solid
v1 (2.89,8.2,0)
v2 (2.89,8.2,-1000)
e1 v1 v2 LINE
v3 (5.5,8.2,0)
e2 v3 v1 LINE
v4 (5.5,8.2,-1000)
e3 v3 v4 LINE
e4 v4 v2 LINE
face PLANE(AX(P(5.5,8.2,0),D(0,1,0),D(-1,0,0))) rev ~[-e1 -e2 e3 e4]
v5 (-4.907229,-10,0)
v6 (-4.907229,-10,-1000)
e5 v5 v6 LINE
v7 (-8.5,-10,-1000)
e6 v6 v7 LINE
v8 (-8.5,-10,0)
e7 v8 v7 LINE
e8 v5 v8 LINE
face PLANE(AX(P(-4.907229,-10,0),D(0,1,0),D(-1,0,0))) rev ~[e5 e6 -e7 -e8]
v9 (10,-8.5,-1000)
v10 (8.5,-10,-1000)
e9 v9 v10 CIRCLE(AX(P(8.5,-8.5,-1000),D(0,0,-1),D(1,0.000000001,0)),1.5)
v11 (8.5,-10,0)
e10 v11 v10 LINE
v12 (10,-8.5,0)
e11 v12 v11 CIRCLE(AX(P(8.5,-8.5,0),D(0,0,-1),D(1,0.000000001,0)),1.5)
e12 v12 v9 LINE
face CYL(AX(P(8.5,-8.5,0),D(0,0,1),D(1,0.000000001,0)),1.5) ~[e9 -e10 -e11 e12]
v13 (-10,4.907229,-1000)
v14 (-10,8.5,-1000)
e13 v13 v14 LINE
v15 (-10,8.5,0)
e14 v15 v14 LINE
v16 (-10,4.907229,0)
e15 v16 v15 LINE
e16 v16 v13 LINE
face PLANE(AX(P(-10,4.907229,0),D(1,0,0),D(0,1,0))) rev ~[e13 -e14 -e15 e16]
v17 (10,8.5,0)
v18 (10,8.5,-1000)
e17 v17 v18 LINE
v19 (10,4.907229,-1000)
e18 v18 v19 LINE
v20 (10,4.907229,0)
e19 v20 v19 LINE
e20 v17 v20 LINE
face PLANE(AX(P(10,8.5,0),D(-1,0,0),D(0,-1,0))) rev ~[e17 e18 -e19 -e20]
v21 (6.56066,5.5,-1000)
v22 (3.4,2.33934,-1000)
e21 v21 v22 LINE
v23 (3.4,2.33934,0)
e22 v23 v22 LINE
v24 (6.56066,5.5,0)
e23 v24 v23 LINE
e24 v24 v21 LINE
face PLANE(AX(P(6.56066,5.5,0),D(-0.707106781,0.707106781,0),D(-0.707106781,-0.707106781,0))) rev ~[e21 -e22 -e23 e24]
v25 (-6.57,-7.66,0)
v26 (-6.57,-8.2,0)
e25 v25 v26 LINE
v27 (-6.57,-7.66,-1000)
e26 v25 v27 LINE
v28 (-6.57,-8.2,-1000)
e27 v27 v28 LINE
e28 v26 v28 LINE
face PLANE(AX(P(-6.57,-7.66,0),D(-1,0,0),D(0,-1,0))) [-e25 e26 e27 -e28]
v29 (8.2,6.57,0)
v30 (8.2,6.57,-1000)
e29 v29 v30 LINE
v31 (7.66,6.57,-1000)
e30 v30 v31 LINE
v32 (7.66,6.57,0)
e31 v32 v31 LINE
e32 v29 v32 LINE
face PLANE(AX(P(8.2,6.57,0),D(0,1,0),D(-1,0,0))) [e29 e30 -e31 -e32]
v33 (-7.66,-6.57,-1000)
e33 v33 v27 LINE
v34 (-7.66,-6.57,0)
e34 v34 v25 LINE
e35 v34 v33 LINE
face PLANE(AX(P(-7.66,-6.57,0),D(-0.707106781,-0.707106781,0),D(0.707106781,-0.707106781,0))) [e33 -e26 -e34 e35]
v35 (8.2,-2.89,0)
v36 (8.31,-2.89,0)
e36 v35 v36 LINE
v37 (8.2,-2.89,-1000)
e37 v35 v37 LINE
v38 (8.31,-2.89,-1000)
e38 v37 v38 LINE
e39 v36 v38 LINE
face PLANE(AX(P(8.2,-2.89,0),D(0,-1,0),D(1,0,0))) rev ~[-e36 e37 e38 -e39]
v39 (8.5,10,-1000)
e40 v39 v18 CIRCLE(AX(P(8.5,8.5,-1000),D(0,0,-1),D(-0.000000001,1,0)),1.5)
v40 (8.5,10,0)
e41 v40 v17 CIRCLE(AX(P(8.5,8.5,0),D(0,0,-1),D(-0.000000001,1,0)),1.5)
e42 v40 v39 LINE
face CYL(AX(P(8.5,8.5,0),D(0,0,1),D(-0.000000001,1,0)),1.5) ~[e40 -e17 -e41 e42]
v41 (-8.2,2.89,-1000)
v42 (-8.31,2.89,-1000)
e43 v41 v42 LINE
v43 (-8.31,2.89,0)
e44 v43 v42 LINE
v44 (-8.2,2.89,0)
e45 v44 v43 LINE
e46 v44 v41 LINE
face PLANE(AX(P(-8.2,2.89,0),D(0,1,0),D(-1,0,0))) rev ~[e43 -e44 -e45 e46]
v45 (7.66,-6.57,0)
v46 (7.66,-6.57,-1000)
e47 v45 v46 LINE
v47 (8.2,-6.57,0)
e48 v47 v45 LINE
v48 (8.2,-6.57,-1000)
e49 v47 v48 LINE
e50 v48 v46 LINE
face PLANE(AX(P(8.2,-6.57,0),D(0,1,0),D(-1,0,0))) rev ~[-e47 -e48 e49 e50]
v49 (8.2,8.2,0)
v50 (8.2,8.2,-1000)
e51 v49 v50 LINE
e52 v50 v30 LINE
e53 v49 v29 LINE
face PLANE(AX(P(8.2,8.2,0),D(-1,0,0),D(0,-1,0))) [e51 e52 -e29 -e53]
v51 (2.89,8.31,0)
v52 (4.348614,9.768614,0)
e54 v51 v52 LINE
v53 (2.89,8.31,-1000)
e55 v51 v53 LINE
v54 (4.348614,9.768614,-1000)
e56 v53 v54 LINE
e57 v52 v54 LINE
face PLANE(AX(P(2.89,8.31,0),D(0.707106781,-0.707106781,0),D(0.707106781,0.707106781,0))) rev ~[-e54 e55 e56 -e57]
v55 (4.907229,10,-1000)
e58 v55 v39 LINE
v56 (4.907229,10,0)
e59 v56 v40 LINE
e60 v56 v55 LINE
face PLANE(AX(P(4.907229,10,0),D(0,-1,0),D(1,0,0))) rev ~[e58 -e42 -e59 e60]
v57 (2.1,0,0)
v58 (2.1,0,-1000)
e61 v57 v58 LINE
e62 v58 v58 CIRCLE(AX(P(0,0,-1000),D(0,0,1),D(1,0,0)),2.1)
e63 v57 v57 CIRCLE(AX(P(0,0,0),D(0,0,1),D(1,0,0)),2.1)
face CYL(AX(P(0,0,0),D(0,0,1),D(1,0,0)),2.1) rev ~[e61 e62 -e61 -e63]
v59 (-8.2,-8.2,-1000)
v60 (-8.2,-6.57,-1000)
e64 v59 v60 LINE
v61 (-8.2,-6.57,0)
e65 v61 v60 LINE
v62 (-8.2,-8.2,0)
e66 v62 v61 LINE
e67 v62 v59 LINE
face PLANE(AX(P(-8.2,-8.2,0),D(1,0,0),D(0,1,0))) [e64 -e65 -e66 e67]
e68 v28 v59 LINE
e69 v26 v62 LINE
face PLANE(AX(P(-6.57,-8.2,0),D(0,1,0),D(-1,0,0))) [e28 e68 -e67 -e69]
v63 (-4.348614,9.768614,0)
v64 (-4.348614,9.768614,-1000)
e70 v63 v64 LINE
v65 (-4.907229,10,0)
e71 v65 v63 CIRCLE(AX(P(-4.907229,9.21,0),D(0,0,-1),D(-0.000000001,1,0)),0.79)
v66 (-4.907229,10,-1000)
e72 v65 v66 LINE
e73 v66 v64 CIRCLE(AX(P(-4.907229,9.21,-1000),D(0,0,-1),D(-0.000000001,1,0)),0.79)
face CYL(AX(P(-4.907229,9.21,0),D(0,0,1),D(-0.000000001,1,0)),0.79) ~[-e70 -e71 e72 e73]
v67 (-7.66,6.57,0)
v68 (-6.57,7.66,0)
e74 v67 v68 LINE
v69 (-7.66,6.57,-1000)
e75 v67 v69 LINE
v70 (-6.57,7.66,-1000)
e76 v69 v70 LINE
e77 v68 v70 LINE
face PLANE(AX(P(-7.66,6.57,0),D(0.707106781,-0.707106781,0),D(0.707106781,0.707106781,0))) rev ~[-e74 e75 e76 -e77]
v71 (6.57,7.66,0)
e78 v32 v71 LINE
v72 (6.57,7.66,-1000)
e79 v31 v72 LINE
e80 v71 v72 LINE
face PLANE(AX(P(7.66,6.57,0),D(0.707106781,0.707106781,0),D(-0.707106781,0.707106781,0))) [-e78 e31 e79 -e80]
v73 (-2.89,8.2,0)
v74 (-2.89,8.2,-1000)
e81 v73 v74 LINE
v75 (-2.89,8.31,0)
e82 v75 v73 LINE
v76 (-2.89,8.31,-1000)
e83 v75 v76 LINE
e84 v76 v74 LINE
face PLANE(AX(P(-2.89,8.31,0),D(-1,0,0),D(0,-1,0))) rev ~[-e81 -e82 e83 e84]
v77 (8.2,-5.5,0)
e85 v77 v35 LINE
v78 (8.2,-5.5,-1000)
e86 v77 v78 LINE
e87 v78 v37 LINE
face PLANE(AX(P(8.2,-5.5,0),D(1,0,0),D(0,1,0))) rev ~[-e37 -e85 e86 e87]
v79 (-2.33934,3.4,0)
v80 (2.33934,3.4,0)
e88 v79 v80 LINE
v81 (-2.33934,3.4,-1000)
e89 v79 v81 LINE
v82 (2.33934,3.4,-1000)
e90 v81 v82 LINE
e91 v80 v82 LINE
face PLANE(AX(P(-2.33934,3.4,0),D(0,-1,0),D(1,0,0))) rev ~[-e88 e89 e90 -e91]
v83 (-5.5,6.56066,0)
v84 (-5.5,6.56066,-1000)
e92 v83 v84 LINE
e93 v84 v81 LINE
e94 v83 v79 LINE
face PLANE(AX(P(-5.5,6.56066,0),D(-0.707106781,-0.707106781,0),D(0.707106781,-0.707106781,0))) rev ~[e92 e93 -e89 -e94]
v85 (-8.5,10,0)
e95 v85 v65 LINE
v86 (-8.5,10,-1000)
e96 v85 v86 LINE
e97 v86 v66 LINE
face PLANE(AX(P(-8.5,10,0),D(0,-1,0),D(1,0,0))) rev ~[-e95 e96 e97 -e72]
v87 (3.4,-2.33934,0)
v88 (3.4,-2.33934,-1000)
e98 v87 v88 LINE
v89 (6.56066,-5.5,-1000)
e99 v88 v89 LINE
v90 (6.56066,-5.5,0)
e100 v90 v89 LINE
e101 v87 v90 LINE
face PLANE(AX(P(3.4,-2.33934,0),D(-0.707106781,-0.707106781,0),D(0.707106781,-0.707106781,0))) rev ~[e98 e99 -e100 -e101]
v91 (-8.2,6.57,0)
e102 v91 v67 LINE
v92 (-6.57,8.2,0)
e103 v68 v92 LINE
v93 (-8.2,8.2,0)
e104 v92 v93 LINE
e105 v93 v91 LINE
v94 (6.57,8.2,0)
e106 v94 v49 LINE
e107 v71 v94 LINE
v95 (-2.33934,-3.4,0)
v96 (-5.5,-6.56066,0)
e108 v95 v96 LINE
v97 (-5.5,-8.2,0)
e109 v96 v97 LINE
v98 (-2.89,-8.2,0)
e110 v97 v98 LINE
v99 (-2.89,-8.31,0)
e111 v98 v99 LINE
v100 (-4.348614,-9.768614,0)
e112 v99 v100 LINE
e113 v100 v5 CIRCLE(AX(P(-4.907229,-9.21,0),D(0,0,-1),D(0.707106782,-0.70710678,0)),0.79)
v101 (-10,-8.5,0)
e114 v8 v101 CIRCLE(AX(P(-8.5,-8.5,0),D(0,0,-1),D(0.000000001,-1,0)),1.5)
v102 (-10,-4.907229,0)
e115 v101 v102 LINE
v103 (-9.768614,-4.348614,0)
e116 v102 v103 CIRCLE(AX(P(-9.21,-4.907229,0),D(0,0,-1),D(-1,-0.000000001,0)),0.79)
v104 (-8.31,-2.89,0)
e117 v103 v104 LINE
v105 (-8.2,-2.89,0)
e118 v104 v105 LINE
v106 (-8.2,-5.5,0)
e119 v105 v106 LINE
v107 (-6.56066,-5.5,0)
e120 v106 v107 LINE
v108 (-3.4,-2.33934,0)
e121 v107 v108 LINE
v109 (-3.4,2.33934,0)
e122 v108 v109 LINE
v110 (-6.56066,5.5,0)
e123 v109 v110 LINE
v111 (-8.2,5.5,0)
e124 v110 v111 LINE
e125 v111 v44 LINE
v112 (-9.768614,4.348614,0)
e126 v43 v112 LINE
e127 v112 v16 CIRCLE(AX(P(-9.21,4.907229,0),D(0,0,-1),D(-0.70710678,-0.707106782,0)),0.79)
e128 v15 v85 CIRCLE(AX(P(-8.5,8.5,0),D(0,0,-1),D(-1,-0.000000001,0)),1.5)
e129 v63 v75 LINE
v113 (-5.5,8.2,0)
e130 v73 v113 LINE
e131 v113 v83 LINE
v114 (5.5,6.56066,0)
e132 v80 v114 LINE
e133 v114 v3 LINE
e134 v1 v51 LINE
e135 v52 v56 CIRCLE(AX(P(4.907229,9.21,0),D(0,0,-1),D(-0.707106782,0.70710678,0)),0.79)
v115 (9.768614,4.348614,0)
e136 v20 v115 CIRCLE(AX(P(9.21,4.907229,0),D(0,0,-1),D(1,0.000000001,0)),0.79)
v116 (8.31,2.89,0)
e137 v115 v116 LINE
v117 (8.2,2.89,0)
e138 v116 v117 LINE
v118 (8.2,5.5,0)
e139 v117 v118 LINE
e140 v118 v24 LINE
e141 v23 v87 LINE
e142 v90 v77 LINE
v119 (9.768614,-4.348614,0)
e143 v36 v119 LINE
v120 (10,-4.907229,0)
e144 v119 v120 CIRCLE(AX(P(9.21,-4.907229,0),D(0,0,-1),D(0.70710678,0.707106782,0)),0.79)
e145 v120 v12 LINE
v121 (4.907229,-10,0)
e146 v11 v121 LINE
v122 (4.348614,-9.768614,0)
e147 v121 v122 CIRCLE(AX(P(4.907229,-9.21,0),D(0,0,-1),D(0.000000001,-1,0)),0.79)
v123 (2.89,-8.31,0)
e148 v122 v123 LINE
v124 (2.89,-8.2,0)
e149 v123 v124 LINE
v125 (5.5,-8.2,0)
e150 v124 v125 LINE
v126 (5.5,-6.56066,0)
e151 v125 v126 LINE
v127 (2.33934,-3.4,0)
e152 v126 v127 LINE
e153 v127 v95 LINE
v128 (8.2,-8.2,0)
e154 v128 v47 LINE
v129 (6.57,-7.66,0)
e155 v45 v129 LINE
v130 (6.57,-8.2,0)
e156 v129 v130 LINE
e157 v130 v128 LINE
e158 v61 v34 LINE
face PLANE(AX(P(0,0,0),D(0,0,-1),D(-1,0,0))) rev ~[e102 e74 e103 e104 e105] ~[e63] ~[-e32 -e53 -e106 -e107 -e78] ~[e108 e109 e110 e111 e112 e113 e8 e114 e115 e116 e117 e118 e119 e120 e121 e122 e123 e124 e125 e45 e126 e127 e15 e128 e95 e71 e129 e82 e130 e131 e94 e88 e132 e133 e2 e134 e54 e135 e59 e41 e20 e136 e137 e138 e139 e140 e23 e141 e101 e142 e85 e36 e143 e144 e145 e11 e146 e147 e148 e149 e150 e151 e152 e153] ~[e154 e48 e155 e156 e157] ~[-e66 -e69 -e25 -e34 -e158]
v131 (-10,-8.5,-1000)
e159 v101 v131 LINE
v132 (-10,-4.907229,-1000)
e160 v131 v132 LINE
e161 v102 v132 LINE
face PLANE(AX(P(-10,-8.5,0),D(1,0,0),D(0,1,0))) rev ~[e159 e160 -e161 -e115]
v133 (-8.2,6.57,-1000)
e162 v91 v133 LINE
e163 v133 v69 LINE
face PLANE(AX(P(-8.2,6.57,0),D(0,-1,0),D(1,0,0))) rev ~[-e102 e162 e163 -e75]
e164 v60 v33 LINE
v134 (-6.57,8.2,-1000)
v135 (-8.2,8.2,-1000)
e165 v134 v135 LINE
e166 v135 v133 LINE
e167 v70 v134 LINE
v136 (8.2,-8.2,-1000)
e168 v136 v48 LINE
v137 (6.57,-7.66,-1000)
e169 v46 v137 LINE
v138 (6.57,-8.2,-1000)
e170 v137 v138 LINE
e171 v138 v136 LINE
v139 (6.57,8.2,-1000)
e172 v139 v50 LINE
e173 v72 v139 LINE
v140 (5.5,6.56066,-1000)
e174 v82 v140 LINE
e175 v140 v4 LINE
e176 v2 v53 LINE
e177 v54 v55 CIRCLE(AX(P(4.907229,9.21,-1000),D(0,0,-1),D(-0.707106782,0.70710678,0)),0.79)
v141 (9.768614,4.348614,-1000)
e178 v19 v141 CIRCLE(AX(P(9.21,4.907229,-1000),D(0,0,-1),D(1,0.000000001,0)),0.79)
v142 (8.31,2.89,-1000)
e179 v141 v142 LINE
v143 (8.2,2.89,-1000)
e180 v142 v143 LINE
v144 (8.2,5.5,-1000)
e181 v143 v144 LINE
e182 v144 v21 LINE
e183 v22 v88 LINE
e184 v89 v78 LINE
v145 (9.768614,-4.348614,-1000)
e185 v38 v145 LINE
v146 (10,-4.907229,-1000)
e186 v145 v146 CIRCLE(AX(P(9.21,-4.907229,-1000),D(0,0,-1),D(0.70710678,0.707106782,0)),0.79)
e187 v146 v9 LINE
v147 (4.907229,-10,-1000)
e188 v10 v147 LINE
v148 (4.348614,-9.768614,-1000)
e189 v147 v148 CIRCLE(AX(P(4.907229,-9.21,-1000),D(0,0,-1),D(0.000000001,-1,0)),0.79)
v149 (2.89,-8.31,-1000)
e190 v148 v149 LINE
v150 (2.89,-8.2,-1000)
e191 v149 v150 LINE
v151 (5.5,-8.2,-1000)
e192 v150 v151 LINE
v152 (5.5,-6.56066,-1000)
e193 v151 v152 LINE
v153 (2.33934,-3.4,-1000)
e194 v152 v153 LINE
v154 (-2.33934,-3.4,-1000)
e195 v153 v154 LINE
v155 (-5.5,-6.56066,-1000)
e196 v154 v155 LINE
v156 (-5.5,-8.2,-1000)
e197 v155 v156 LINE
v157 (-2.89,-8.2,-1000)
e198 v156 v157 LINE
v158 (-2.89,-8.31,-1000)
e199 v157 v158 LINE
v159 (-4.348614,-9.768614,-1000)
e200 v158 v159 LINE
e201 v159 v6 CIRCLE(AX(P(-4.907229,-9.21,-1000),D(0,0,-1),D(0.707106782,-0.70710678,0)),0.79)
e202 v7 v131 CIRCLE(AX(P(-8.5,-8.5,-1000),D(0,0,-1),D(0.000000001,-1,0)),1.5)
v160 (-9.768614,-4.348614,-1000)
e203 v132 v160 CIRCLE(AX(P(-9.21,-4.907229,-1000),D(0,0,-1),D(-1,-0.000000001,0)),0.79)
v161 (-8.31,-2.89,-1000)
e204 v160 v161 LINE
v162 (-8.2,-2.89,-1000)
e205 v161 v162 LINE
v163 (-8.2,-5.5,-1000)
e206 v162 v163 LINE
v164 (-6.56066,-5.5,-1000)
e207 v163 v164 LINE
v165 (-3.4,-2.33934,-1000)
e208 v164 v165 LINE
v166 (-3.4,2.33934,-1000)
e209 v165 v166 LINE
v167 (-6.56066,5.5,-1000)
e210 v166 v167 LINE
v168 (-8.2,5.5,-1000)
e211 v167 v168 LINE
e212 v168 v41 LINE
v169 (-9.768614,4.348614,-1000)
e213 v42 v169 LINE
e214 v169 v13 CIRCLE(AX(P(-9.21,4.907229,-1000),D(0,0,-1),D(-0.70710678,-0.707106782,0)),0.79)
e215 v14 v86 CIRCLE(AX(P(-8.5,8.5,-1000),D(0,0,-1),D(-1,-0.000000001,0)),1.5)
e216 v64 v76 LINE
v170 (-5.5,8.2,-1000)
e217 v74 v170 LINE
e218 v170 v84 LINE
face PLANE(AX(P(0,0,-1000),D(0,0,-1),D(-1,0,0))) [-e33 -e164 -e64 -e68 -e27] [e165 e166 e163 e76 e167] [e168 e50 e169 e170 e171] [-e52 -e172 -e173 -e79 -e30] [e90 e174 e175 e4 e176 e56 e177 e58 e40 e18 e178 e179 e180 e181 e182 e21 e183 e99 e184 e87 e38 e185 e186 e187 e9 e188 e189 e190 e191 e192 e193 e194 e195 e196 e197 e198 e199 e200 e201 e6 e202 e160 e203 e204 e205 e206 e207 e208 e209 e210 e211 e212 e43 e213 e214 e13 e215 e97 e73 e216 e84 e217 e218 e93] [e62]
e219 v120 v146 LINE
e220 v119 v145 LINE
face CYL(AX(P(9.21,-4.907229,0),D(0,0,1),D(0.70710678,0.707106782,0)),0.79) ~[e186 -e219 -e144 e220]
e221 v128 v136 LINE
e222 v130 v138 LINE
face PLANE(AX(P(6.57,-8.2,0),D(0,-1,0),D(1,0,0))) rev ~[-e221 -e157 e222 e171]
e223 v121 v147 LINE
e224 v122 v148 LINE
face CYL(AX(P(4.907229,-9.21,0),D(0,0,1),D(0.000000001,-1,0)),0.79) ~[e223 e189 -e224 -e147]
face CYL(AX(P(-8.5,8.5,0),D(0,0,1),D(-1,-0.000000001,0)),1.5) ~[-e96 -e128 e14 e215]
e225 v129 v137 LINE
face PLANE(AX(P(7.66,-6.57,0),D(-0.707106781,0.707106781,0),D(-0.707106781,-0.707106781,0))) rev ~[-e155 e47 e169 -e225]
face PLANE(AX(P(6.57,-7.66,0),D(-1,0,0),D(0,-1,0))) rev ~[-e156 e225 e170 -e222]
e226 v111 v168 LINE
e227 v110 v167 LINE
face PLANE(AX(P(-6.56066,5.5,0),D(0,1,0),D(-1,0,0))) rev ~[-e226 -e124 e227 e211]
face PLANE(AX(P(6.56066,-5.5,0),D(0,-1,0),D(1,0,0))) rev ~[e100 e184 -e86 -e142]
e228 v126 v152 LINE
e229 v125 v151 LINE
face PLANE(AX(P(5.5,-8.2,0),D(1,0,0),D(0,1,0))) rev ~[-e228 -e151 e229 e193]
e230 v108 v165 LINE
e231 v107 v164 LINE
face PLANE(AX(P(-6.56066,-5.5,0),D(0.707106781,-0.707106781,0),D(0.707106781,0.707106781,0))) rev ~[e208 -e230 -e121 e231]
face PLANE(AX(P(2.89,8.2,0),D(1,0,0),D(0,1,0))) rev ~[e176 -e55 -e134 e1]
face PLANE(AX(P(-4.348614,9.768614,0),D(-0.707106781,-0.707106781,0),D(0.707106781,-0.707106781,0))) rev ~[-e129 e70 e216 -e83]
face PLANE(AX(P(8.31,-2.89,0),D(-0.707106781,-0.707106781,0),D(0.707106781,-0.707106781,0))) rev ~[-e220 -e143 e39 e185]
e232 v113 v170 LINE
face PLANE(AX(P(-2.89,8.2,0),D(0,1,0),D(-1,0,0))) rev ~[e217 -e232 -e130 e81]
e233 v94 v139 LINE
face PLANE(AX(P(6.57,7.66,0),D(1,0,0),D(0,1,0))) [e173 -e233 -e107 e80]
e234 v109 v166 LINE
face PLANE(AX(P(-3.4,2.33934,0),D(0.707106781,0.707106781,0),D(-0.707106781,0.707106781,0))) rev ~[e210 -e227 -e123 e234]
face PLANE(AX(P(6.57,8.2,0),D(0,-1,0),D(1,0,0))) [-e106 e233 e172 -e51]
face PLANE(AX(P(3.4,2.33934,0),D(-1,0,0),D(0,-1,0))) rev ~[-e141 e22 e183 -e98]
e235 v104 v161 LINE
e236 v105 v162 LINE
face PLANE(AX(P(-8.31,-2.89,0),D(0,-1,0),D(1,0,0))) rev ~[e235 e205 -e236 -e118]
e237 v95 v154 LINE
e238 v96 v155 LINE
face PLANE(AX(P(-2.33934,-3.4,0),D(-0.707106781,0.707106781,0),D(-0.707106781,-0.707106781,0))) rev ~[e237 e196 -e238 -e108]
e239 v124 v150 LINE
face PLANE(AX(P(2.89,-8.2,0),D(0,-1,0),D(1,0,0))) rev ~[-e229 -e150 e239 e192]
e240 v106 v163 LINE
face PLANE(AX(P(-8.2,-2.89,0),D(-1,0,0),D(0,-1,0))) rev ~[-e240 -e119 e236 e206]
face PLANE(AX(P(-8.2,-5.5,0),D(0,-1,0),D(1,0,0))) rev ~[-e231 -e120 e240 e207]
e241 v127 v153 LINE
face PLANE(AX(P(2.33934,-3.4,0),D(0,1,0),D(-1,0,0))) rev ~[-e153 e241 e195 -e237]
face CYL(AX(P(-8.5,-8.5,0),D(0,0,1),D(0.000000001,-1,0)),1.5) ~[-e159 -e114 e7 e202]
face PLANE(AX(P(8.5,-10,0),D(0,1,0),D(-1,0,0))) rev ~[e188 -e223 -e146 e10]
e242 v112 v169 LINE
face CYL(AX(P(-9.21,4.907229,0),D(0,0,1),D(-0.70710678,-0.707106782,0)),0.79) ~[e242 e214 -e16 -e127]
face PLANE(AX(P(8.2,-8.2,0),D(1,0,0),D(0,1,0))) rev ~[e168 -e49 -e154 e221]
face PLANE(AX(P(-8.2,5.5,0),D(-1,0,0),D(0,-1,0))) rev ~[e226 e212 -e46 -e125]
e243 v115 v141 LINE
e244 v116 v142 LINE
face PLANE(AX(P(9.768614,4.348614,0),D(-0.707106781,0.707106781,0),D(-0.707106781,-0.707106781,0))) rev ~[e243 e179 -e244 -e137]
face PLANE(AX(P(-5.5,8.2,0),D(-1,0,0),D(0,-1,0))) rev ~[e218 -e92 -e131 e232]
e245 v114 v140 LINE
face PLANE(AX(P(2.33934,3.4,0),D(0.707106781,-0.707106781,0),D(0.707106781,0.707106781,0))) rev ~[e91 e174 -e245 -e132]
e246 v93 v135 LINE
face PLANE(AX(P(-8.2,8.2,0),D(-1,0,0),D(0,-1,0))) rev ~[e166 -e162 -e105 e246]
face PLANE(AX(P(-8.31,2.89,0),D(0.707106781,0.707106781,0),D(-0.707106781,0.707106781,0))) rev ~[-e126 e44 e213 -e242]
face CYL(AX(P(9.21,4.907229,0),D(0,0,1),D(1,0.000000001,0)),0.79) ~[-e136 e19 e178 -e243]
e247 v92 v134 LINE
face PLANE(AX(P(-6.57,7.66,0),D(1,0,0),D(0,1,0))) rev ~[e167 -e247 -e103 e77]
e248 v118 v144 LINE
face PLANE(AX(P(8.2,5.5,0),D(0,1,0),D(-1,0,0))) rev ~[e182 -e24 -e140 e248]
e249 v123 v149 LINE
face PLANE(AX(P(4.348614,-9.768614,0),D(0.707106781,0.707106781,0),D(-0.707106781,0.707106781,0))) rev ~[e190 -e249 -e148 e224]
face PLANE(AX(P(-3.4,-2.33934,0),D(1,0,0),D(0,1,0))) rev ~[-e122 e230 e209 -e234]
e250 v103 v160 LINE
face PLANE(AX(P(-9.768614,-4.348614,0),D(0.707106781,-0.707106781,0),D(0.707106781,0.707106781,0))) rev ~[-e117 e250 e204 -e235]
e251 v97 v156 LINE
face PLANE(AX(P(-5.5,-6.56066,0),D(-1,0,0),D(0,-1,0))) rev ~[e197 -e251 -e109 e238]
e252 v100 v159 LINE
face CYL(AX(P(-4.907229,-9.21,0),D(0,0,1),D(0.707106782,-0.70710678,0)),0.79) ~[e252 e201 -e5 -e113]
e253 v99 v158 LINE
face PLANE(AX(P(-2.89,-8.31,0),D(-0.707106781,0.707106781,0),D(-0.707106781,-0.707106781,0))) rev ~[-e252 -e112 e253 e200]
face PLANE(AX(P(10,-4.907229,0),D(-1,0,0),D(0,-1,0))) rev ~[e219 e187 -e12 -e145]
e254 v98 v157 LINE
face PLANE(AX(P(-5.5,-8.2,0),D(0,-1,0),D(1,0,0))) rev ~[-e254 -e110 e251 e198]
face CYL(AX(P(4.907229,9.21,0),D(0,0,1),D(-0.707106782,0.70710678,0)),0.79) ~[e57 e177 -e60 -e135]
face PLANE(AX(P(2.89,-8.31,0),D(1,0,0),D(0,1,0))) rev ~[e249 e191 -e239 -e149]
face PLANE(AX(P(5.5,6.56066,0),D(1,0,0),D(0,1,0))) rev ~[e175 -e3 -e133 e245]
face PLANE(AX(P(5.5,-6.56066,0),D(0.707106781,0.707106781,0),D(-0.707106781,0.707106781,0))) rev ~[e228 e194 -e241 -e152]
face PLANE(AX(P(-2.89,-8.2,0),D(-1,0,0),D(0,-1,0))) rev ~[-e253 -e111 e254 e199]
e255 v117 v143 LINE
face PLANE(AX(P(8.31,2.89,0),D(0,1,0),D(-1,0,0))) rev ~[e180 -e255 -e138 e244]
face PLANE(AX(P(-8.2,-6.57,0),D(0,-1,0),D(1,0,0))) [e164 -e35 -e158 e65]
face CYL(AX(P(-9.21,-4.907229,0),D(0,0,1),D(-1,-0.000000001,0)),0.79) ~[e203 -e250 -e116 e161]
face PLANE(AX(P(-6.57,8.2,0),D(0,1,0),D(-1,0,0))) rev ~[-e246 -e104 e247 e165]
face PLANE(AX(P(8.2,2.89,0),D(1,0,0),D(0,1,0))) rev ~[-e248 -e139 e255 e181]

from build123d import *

# Parameters (mm, degrees)
SKETCH6_R           = 2.1
BOSS_EXTRUDE1_DEPTH = 1000


with BuildPart() as part:
    # Sketch6 → Boss-Extrude1 (new body)
    with BuildSketch(Plane.XY):
        with BuildLine():
            Line((-3.4, -2.339339828), (-3.4, 2.339339828))
            Line((-3.4, 2.339339828), (-6.560660172, 5.5))
            Line((-6.560660172, 5.5), (-8.2, 5.5))
            Line((-8.2, 5.5), (-8.2, 2.89))
            Line((-8.2, 2.89), (-8.31, 2.89))
            Line((-8.31, 2.89), (-9.768614357, 4.348614357))
            ThreePointArc((-9.768614357, 4.348614357), (-9.939864831, 4.604908803), (-10, 4.907228714))
            Line((-10, 4.907228714), (-10, 8.5))
            ThreePointArc((-10, 8.5), (-9.560660172, 9.560660172), (-8.5, 10))
            Line((-8.5, 10), (-4.907228714, 10))
            ThreePointArc((-4.907228714, 10), (-4.604908803, 9.939864831), (-4.348614357, 9.768614357))
            Line((-4.348614357, 9.768614357), (-2.89, 8.31))
            Line((-2.89, 8.31), (-2.89, 8.2))
            Line((-2.89, 8.2), (-5.5, 8.2))
            Line((-5.5, 8.2), (-5.5, 6.560660172))
            Line((-5.5, 6.560660172), (-2.339339828, 3.4))
            Line((-2.339339828, 3.4), (2.339339828, 3.4))
            Line((2.339339828, 3.4), (5.5, 6.560660172))
            Line((5.5, 6.560660172), (5.5, 8.2))
            Line((5.5, 8.2), (2.89, 8.2))
            Line((2.89, 8.2), (2.89, 8.31))
            Line((2.89, 8.31), (4.348614357, 9.768614357))
            ThreePointArc((4.348614357, 9.768614357), (4.604908803, 9.939864831), (4.907228714, 10))
            Line((4.907228714, 10), (8.5, 10))
            ThreePointArc((8.5, 10), (9.560660172, 9.560660172), (10, 8.5))
            Line((10, 8.5), (10, 4.907228714))
            ThreePointArc((10, 4.907228714), (9.939864831, 4.604908803), (9.768614357, 4.348614357))
            Line((9.768614357, 4.348614357), (8.31, 2.89))
            Line((8.31, 2.89), (8.2, 2.89))
            Line((8.2, 2.89), (8.2, 5.5))
            Line((8.2, 5.5), (6.560660172, 5.5))
            Line((6.560660172, 5.5), (3.4, 2.339339828))
            Line((3.4, 2.339339828), (3.4, -2.339339828))
            Line((3.4, -2.339339828), (6.560660172, -5.5))
            Line((6.560660172, -5.5), (8.2, -5.5))
            Line((8.2, -5.5), (8.2, -2.89))
            Line((8.2, -2.89), (8.31, -2.89))
            Line((8.31, -2.89), (9.768614357, -4.348614357))
            ThreePointArc((9.768614357, -4.348614357), (9.939864831, -4.604908803), (10, -4.907228714))
            Line((10, -4.907228714), (10, -8.5))
            ThreePointArc((10, -8.5), (9.560660172, -9.560660172), (8.5, -10))
            Line((8.5, -10), (4.907228714, -10))
            ThreePointArc((4.907228714, -10), (4.604908803, -9.939864831), (4.348614357, -9.768614357))
            Line((4.348614357, -9.768614357), (2.89, -8.31))
            Line((2.89, -8.31), (2.89, -8.2))
            Line((2.89, -8.2), (5.5, -8.2))
            Line((5.5, -8.2), (5.5, -6.560660172))
            Line((5.5, -6.560660172), (2.339339828, -3.4))
            Line((2.339339828, -3.4), (-2.339339828, -3.4))
            Line((-2.339339828, -3.4), (-5.5, -6.560660172))
            Line((-5.5, -6.560660172), (-5.5, -8.2))
            Line((-5.5, -8.2), (-2.89, -8.2))
            Line((-2.89, -8.2), (-2.89, -8.31))
            Line((-2.89, -8.31), (-4.348614357, -9.768614357))
            ThreePointArc((-4.348614357, -9.768614357), (-4.604908803, -9.939864831), (-4.907228714, -10))
            Line((-4.907228714, -10), (-8.5, -10))
            ThreePointArc((-8.5, -10), (-9.560660172, -9.560660172), (-10, -8.5))
            Line((-10, -8.5), (-10, -4.907228714))
            ThreePointArc((-10, -4.907228714), (-9.939864831, -4.604908803), (-9.768614357, -4.348614357))
            Line((-9.768614357, -4.348614357), (-8.31, -2.89))
            Line((-8.31, -2.89), (-8.2, -2.89))
            Line((-8.2, -2.89), (-8.2, -5.5))
            Line((-8.2, -5.5), (-6.560660172, -5.5))
            Line((-6.560660172, -5.5), (-3.4, -2.339339828))
        make_face()
        Circle(SKETCH6_R, mode=Mode.SUBTRACT)
        Polygon((-7.66, 6.57), (-6.57, 7.66), (-6.57, 8.2), (-8.2, 8.2), (-8.2, 6.57), align=None, mode=Mode.SUBTRACT)
        Polygon((8.2, 6.57), (7.66, 6.57), (6.57, 7.66), (6.57, 8.2), (8.2, 8.2), align=None, mode=Mode.SUBTRACT)
        Polygon((7.66, -6.57), (6.57, -7.66), (6.57, -8.2), (8.2, -8.2), (8.2, -6.57), align=None, mode=Mode.SUBTRACT)
        Polygon((-8.2, -6.57), (-7.66, -6.57), (-6.57, -7.66), (-6.57, -8.2), (-8.2, -8.2), align=None, mode=Mode.SUBTRACT)
    extrude(amount=-BOSS_EXTRUDE1_DEPTH)


solid = part.part
